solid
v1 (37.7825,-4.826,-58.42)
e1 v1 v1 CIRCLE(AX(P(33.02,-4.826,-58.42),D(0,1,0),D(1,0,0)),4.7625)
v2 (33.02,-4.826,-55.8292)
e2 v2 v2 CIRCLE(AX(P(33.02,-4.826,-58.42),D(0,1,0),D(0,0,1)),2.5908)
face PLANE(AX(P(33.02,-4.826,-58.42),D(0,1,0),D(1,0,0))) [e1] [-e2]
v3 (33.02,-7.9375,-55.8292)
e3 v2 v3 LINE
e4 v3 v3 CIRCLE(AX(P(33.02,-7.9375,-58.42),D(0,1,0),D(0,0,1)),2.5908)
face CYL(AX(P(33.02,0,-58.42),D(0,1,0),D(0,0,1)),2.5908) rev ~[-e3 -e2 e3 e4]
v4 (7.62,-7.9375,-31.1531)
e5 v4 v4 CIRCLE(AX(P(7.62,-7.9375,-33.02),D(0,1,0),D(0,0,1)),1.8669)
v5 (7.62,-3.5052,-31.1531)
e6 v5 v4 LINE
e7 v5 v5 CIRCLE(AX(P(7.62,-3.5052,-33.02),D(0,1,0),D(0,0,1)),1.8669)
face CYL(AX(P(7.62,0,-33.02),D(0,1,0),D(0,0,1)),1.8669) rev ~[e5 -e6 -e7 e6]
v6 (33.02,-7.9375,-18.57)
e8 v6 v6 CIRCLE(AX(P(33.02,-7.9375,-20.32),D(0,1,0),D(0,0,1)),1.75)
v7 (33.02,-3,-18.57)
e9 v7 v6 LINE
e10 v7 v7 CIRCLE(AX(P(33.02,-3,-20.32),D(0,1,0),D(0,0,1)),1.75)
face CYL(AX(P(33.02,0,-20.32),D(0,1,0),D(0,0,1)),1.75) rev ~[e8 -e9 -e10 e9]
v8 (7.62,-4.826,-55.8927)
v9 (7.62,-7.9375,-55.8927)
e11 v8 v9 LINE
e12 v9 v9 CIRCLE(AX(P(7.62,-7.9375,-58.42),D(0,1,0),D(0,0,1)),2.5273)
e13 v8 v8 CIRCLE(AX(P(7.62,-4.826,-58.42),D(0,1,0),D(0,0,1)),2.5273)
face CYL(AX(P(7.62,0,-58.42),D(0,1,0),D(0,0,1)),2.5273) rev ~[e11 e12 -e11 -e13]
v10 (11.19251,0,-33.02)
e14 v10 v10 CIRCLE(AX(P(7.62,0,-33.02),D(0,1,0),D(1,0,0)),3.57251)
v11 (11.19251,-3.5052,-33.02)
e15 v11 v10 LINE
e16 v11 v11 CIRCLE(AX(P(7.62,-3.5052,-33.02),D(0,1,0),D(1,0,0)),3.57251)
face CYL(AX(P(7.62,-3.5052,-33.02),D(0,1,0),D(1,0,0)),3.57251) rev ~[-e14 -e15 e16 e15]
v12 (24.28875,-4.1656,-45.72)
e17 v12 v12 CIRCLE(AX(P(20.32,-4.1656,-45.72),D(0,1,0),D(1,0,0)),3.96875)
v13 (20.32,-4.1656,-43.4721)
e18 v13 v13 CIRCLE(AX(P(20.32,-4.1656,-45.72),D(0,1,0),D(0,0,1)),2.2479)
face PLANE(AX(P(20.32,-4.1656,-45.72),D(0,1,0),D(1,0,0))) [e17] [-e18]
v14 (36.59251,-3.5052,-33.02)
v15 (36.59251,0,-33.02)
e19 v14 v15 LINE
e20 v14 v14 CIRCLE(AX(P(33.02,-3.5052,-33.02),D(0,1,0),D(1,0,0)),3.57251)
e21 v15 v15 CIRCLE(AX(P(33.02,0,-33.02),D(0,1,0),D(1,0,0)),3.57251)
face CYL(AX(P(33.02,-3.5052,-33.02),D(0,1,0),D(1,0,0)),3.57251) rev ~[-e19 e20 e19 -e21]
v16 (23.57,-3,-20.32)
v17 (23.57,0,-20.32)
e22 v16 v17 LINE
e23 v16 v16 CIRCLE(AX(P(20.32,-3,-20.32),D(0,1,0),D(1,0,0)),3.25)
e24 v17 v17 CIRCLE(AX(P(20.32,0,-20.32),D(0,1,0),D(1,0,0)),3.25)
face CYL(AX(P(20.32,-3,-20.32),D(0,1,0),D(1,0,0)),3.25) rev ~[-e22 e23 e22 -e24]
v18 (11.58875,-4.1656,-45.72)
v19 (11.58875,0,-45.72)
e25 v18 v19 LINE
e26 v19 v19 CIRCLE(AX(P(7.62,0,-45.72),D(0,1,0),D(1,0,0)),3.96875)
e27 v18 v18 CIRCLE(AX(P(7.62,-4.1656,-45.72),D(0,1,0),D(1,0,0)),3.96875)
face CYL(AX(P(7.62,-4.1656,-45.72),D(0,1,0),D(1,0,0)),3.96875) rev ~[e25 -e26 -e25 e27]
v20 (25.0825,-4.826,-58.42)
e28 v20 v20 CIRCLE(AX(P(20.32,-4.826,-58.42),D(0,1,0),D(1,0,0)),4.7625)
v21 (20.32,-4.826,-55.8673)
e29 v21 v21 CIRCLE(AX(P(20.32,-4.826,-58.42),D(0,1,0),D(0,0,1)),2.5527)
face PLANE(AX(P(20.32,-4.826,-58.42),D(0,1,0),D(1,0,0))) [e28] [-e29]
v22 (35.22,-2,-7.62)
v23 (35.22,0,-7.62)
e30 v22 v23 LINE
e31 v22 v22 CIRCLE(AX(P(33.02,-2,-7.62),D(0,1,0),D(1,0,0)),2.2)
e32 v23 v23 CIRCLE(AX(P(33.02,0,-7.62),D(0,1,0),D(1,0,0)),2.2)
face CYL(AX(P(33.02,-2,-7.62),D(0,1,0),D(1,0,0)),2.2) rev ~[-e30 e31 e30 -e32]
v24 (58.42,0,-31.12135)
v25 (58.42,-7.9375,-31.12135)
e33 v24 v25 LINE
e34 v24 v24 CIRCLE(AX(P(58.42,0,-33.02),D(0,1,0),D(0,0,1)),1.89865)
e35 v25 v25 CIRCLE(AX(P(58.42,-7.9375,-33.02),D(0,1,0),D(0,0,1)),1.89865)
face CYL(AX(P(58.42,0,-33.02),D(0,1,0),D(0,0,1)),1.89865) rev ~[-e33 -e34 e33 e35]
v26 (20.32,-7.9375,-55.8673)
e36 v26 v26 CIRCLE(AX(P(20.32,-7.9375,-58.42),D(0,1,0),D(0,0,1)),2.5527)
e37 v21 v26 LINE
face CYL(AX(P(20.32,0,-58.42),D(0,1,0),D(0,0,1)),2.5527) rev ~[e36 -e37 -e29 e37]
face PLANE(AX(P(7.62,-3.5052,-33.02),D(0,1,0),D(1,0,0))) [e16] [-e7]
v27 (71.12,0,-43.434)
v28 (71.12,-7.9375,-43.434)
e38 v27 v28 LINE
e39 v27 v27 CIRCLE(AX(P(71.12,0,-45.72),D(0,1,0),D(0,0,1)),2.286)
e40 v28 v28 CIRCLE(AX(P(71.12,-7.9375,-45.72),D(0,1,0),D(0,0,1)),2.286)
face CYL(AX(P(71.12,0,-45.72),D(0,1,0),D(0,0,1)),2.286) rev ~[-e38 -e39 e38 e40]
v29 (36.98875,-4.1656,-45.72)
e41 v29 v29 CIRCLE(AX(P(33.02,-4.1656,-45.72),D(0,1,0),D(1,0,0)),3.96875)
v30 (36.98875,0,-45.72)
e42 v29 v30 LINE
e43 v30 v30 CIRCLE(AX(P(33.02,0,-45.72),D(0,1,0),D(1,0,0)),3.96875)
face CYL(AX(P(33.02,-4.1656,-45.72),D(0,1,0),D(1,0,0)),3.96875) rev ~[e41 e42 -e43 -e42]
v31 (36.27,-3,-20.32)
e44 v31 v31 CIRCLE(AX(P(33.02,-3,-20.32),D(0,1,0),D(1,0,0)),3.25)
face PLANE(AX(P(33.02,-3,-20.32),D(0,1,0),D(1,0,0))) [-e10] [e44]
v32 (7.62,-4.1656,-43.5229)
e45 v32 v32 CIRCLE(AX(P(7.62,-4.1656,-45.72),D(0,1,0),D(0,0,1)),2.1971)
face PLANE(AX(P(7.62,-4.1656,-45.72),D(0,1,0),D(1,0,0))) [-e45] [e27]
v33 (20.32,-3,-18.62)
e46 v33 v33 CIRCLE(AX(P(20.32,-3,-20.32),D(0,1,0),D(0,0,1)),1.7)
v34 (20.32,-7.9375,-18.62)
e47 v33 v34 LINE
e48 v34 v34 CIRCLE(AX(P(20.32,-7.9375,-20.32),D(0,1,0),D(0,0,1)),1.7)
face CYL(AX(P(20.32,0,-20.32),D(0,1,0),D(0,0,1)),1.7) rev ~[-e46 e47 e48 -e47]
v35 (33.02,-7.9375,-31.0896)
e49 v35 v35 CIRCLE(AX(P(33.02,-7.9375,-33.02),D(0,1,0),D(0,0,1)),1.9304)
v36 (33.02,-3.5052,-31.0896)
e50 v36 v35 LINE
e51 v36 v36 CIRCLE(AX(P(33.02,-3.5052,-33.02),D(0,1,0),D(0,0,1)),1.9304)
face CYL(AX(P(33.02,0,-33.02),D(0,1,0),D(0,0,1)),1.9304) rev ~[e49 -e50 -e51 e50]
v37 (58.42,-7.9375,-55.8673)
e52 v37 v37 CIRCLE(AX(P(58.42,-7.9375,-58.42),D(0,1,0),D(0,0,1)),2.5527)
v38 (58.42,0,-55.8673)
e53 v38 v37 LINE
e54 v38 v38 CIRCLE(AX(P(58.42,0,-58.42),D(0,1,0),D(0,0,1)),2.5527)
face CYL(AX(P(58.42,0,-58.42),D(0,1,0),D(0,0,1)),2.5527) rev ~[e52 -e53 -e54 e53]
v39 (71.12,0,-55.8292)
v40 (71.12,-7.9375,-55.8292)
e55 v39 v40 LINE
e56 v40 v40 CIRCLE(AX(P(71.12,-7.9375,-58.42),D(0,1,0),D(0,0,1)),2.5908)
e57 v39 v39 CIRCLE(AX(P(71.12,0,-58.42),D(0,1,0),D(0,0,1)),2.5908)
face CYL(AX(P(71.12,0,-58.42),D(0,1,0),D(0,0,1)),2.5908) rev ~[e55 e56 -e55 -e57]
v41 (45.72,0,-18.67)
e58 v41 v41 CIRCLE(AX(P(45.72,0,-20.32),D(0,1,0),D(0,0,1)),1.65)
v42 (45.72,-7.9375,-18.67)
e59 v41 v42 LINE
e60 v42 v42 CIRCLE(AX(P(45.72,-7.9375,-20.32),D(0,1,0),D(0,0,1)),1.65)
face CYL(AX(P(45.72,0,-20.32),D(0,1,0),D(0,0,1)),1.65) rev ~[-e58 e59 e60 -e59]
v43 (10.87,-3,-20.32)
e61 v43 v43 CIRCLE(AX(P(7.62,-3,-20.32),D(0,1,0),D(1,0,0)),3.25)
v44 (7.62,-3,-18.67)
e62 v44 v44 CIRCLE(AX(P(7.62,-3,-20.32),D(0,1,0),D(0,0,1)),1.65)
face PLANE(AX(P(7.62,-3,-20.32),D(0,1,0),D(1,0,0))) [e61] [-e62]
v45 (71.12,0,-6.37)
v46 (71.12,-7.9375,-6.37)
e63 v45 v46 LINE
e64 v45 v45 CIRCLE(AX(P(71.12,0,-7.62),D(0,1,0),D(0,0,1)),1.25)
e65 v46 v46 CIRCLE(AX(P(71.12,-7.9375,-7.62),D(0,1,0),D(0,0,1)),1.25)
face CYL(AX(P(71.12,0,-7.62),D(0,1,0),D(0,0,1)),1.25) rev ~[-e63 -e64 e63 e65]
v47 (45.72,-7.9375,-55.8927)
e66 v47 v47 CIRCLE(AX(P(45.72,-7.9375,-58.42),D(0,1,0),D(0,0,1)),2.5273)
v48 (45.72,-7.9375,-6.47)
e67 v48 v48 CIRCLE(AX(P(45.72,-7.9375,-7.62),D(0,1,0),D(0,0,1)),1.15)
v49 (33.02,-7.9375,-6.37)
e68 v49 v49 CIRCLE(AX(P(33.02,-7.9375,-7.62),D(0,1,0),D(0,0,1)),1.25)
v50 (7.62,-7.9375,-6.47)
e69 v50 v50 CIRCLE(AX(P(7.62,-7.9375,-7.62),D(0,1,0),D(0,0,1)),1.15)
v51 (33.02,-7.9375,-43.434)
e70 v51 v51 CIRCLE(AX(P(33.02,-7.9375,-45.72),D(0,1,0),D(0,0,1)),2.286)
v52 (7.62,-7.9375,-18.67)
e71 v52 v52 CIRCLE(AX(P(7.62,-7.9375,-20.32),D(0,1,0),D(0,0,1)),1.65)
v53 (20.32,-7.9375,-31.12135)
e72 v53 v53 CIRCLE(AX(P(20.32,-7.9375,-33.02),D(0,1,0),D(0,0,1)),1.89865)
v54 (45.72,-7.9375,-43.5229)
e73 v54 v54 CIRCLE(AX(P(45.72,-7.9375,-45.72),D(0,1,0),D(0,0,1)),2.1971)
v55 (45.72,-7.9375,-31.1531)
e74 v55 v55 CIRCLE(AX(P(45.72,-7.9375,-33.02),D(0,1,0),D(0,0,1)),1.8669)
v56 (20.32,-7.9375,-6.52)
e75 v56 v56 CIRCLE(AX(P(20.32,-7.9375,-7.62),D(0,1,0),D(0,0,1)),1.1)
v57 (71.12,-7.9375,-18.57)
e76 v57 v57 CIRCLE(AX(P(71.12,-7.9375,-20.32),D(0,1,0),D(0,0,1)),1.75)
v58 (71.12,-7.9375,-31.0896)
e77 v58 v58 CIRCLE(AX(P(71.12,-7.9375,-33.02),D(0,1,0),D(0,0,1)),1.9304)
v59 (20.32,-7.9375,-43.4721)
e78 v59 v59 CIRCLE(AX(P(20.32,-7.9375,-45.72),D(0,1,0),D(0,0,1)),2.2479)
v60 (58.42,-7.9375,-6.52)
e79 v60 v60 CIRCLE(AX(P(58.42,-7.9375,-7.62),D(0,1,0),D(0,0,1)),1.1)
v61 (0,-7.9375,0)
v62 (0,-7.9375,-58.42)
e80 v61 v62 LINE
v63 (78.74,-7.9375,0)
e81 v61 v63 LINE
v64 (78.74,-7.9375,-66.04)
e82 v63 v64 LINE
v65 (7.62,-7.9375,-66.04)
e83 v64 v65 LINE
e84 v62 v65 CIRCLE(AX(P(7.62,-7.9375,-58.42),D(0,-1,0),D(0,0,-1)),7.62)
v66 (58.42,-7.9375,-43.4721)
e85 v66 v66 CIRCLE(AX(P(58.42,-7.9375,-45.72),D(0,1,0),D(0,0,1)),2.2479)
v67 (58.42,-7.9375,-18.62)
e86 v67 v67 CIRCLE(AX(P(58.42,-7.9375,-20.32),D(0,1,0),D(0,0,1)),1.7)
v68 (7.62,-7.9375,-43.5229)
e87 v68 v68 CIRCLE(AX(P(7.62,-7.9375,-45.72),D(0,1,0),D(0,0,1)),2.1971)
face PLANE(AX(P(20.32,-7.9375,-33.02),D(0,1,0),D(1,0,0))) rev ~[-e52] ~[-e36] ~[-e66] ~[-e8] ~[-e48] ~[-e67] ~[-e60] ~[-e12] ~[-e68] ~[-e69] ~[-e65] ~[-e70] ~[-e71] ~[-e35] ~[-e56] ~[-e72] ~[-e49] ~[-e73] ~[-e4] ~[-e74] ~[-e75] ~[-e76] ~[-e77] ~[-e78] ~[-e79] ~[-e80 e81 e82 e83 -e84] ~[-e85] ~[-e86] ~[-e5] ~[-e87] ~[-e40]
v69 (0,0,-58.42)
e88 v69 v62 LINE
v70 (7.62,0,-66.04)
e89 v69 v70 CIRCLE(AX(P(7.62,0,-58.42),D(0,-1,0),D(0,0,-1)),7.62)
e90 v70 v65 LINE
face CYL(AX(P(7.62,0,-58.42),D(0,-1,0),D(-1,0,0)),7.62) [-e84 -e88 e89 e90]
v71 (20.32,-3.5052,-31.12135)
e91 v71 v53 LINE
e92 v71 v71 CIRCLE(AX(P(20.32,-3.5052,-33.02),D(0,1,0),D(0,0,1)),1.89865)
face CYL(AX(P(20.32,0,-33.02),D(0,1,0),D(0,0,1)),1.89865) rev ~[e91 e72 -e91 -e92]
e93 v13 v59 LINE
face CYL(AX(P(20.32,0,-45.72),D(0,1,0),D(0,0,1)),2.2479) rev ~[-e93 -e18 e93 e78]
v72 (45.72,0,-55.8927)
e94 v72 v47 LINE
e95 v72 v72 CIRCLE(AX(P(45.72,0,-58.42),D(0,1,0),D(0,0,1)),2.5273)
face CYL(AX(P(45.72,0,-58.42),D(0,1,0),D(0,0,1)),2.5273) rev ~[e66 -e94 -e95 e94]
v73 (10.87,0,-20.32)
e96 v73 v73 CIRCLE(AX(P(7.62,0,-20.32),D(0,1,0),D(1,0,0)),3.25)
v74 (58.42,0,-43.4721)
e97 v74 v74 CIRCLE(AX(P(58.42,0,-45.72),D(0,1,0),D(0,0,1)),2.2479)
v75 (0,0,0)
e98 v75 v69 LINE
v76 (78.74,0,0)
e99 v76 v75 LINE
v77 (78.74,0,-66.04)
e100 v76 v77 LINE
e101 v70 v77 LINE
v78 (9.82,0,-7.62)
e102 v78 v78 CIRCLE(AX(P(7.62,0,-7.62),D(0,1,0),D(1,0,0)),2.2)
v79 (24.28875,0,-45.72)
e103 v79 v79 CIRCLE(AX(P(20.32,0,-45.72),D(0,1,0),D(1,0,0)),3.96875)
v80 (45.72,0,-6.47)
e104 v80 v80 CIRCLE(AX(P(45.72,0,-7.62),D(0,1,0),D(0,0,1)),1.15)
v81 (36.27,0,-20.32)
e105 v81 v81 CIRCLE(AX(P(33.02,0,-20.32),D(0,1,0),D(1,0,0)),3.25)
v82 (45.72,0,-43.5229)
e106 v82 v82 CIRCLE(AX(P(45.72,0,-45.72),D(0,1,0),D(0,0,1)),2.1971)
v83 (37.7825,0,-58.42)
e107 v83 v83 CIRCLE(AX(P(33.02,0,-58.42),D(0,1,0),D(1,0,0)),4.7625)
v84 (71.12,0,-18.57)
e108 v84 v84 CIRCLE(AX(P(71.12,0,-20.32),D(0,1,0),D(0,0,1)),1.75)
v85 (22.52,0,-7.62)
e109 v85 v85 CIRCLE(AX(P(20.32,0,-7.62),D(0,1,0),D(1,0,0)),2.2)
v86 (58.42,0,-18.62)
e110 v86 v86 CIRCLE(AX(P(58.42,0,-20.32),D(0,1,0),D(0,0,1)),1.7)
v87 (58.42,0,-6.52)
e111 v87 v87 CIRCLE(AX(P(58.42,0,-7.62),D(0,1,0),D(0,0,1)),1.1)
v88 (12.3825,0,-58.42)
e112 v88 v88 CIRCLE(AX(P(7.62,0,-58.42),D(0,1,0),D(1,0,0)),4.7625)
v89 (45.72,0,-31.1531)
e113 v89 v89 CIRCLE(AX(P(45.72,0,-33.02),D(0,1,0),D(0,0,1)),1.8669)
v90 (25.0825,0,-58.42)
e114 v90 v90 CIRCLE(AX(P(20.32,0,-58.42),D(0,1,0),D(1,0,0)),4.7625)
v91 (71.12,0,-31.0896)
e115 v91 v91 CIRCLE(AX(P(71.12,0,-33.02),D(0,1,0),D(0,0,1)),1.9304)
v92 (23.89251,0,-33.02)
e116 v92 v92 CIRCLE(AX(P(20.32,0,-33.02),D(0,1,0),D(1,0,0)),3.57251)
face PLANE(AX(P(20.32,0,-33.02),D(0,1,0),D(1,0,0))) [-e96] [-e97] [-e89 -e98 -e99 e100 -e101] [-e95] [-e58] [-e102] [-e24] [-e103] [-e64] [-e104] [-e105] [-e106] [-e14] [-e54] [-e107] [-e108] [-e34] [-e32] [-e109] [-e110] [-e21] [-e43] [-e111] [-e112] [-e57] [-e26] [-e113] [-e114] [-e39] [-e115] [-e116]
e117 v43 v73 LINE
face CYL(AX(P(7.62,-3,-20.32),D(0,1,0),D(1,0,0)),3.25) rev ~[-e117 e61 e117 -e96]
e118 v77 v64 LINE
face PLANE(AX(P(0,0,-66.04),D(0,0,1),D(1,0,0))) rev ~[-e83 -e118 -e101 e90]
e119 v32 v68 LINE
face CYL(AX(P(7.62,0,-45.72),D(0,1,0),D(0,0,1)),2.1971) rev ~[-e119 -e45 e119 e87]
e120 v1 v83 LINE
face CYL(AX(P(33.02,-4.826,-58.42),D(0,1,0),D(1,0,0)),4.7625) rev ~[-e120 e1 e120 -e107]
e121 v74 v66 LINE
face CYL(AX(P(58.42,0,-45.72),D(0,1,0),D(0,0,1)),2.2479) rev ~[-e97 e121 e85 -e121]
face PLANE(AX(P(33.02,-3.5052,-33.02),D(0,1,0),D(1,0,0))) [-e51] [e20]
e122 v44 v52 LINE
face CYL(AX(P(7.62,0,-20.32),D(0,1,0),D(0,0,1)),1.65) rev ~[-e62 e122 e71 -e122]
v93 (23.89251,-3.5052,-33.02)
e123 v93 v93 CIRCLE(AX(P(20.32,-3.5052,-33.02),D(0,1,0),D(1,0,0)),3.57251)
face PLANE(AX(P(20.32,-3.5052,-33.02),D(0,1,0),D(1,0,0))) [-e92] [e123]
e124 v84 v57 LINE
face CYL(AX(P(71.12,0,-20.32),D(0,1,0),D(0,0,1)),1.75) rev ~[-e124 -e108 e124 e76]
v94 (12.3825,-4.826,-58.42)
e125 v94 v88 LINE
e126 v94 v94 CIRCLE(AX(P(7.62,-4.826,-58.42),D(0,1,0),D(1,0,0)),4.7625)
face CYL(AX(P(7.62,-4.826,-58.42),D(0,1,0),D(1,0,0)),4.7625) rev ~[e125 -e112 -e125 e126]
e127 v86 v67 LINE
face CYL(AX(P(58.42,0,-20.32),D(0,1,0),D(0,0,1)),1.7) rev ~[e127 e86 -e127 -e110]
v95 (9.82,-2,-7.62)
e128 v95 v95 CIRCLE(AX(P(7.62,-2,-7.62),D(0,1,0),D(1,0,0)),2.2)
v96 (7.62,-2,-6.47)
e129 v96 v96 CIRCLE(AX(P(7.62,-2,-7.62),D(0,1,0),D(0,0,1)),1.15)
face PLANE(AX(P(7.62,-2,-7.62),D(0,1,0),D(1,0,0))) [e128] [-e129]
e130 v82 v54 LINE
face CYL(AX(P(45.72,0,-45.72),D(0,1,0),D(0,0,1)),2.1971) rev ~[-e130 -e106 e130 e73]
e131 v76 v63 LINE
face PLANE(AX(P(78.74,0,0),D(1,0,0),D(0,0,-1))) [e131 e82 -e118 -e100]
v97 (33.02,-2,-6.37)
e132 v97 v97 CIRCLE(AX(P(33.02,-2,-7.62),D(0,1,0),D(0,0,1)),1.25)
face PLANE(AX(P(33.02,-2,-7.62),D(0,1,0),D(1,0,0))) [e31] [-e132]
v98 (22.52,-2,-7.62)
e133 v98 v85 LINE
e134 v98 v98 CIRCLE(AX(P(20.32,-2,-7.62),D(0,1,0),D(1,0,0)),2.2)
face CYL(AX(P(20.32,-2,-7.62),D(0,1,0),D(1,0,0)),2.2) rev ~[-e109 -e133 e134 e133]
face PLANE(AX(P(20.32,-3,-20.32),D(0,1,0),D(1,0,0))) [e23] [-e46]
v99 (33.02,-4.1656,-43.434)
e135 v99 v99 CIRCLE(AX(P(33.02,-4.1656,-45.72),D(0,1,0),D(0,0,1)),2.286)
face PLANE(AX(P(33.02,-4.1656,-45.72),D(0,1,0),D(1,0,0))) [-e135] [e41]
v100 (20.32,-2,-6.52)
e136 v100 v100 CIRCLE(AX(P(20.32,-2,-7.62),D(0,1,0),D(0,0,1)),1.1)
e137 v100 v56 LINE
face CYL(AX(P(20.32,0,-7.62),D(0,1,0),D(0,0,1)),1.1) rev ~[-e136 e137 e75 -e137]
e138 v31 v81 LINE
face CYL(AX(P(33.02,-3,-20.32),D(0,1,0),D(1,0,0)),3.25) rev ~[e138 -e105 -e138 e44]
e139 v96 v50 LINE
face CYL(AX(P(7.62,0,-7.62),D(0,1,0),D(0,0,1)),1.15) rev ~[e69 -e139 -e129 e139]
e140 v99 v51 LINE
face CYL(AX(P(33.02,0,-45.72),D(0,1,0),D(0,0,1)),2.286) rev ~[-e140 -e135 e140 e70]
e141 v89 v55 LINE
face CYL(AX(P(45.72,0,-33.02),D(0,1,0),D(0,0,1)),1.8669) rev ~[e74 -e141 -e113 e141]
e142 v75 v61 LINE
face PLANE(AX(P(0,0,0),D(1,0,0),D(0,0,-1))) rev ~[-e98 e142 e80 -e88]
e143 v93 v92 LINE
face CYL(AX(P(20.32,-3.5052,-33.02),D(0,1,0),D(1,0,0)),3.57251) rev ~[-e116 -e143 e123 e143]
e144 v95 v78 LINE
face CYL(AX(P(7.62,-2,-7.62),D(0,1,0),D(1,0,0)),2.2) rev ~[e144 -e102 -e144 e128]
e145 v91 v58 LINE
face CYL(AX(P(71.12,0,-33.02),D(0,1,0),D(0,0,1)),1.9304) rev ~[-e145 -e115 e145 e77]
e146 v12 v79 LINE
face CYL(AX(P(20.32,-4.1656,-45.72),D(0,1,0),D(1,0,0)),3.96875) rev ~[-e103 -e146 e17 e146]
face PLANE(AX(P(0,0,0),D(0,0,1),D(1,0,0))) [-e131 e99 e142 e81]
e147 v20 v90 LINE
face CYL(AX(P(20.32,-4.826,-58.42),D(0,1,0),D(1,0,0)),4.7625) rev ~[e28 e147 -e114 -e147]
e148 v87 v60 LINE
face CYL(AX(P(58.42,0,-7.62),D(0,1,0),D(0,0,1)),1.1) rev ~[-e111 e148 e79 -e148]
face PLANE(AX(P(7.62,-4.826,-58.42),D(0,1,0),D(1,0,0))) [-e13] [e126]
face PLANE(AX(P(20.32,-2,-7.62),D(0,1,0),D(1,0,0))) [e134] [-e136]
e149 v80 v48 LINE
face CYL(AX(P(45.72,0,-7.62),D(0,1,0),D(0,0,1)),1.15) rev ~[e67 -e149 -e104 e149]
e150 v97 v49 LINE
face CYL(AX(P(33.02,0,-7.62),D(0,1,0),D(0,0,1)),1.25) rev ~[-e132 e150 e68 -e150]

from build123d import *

# Parameters (mm, degrees)
SKETCH1_W                                       = 40.64
SKETCH1_H                                       = 66.04
SKETCH1_R                                       = 2.5527
SKETCH1_R_2                                     = 2.5908
SKETCH1_R_3                                     = 2.286
SKETCH1_R_4                                     = 2.2479
SKETCH1_R_5                                     = 1.89865
SKETCH1_R_6                                     = 1.9304
SKETCH1_R_7                                     = 1.75
SKETCH1_R_8                                     = 1.7
SKETCH1_R_9                                     = 1.1
SKETCH1_R_10                                    = 1.25
SKETCH1_R_11                                    = 2.5273
SKETCH1_R_12                                    = 2.1971
SKETCH1_R_13                                    = 1.8669
SKETCH1_R_14                                    = 1.15
SKETCH1_R_15                                    = 1.65
BOSS_EXTRUDE1_DEPTH                             = 7.9375
LPATTERN1_COUNT                                 = 2
LPATTERN1_PITCH                                 = 38.1
CBORE_FOR_10_SOCKET_HEAD_CAP_SCREW1_D           = 4.9784
CBORE_FOR_10_SOCKET_HEAD_CAP_SCREW1_CBORE_D     = 9.525
CBORE_FOR_10_SOCKET_HEAD_CAP_SCREW1_CBORE_DEPTH = 4.826
CBORE_FOR_8_SOCKET_HEAD_CAP_SCREW1_D            = 4.3053
CBORE_FOR_8_SOCKET_HEAD_CAP_SCREW1_CBORE_D      = 7.9375
CBORE_FOR_8_SOCKET_HEAD_CAP_SCREW1_CBORE_DEPTH  = 4.1656
CBORE_FOR_6_SOCKET_HEAD_CAP_SCREW1_D            = 3.6576
CBORE_FOR_6_SOCKET_HEAD_CAP_SCREW1_CBORE_D      = 7.14502
CBORE_FOR_6_SOCKET_HEAD_CAP_SCREW1_CBORE_DEPTH  = 3.5052
CBORE_FOR_M3_SHCS1_D                            = 3.2
CBORE_FOR_M3_SHCS1_CBORE_D                      = 6.5
CBORE_FOR_M3_SHCS1_CBORE_DEPTH                  = 3
CBORE_FOR_M2_SHCS1_D                            = 2.2
CBORE_FOR_M2_SHCS1_CBORE_D                      = 4.4
CBORE_FOR_M2_SHCS1_CBORE_DEPTH                  = 2
FILLET1_R                                       = 7.62


with BuildPart() as part:
    # Sketch1 → Boss-Extrude1 (new body)
    with BuildSketch(Plane(origin=(0, 0, 0), x_dir=(1, 0, 0), z_dir=(0, 1, 0))):
        with Locations((20.32, 33.02)):
            Rectangle(SKETCH1_W, SKETCH1_H)
        with Locations((20.32, 58.42)):
            Circle(SKETCH1_R, mode=Mode.SUBTRACT)
        with Locations((33.02, 58.42)):
            Circle(SKETCH1_R_2, mode=Mode.SUBTRACT)
        with Locations((33.02, 45.72)):
            Circle(SKETCH1_R_3, mode=Mode.SUBTRACT)
        with Locations((20.32, 45.72)):
            Circle(SKETCH1_R_4, mode=Mode.SUBTRACT)
        with Locations((20.32, 33.02)):
            Circle(SKETCH1_R_5, mode=Mode.SUBTRACT)
        with Locations((33.02, 33.02)):
            Circle(SKETCH1_R_6, mode=Mode.SUBTRACT)
        with Locations((33.02, 20.32)):
            Circle(SKETCH1_R_7, mode=Mode.SUBTRACT)
        with Locations((20.32, 20.32)):
            Circle(SKETCH1_R_8, mode=Mode.SUBTRACT)
        with Locations((20.32, 7.62)):
            Circle(SKETCH1_R_9, mode=Mode.SUBTRACT)
        with Locations((33.02, 7.62)):
            Circle(SKETCH1_R_10, mode=Mode.SUBTRACT)
        with Locations((7.62, 58.42)):
            Circle(SKETCH1_R_11, mode=Mode.SUBTRACT)
        with Locations((7.62, 45.72)):
            Circle(SKETCH1_R_12, mode=Mode.SUBTRACT)
        with Locations((7.62, 33.02)):
            Circle(SKETCH1_R_13, mode=Mode.SUBTRACT)
        with Locations((7.62, 7.62)):
            Circle(SKETCH1_R_14, mode=Mode.SUBTRACT)
        with Locations((7.62, 20.32)):
            Circle(SKETCH1_R_15, mode=Mode.SUBTRACT)
    extrude(amount=-BOSS_EXTRUDE1_DEPTH)


with BuildPart() as lpattern1_1:
    # LPattern1: pattern copy
    add(part.part.moved(Location(Vector(1, 0, 0) * (1 * LPATTERN1_PITCH))))

    # Combine1: union part
    add(part.part)

    # CBORE for #10 Socket Head Cap Screw1 (through all)
    with Locations(Plane(origin=(0, 0, 0), x_dir=(1, 0, 0), z_dir=(0, 1, 0))):
        with Locations((7.62, 58.42), (20.32, 58.42), (33.02, 58.42)):
            CounterBoreHole(CBORE_FOR_10_SOCKET_HEAD_CAP_SCREW1_D / 2, CBORE_FOR_10_SOCKET_HEAD_CAP_SCREW1_CBORE_D / 2, CBORE_FOR_10_SOCKET_HEAD_CAP_SCREW1_CBORE_DEPTH)

    # CBORE for #8 Socket Head Cap Screw1 (through all)
    with Locations(Plane(origin=(0, 0, 0), x_dir=(1, 0, 0), z_dir=(0, 1, 0))):
        with Locations((7.62, 45.72), (20.32, 45.72), (33.02, 45.72)):
            CounterBoreHole(CBORE_FOR_8_SOCKET_HEAD_CAP_SCREW1_D / 2, CBORE_FOR_8_SOCKET_HEAD_CAP_SCREW1_CBORE_D / 2, CBORE_FOR_8_SOCKET_HEAD_CAP_SCREW1_CBORE_DEPTH)

    # CBORE for #6 Socket Head Cap Screw1 (through all)
    with Locations(Plane(origin=(0, 0, 0), x_dir=(1, 0, 0), z_dir=(0, 1, 0))):
        with Locations((7.62, 33.02), (20.32, 33.02), (33.02, 33.02)):
            CounterBoreHole(CBORE_FOR_6_SOCKET_HEAD_CAP_SCREW1_D / 2, CBORE_FOR_6_SOCKET_HEAD_CAP_SCREW1_CBORE_D / 2, CBORE_FOR_6_SOCKET_HEAD_CAP_SCREW1_CBORE_DEPTH)

    # CBORE for M3 SHCS1 (through all)
    with Locations(Plane(origin=(0, 0, 0), x_dir=(1, 0, 0), z_dir=(0, 1, 0))):
        with Locations((7.62, 20.32), (20.32, 20.32), (33.02, 20.32)):
            CounterBoreHole(CBORE_FOR_M3_SHCS1_D / 2, CBORE_FOR_M3_SHCS1_CBORE_D / 2, CBORE_FOR_M3_SHCS1_CBORE_DEPTH)

    # CBORE for M2 SHCS1 (through all)
    with Locations(Plane(origin=(0, 0, 0), x_dir=(1, 0, 0), z_dir=(0, 1, 0))):
        with Locations((7.62, 7.62), (20.32, 7.62), (33.02, 7.62)):
            CounterBoreHole(CBORE_FOR_M2_SHCS1_D / 2, CBORE_FOR_M2_SHCS1_CBORE_D / 2, CBORE_FOR_M2_SHCS1_CBORE_DEPTH)

    # Fillet1
    fillet1_edges = [lpattern1_1.edges().sort_by_distance(p)[0] for p in [
        (0, -3.96875, -66.04),
    ]]
    fillet(fillet1_edges, radius=FILLET1_R)


solid = lpattern1_1.part
